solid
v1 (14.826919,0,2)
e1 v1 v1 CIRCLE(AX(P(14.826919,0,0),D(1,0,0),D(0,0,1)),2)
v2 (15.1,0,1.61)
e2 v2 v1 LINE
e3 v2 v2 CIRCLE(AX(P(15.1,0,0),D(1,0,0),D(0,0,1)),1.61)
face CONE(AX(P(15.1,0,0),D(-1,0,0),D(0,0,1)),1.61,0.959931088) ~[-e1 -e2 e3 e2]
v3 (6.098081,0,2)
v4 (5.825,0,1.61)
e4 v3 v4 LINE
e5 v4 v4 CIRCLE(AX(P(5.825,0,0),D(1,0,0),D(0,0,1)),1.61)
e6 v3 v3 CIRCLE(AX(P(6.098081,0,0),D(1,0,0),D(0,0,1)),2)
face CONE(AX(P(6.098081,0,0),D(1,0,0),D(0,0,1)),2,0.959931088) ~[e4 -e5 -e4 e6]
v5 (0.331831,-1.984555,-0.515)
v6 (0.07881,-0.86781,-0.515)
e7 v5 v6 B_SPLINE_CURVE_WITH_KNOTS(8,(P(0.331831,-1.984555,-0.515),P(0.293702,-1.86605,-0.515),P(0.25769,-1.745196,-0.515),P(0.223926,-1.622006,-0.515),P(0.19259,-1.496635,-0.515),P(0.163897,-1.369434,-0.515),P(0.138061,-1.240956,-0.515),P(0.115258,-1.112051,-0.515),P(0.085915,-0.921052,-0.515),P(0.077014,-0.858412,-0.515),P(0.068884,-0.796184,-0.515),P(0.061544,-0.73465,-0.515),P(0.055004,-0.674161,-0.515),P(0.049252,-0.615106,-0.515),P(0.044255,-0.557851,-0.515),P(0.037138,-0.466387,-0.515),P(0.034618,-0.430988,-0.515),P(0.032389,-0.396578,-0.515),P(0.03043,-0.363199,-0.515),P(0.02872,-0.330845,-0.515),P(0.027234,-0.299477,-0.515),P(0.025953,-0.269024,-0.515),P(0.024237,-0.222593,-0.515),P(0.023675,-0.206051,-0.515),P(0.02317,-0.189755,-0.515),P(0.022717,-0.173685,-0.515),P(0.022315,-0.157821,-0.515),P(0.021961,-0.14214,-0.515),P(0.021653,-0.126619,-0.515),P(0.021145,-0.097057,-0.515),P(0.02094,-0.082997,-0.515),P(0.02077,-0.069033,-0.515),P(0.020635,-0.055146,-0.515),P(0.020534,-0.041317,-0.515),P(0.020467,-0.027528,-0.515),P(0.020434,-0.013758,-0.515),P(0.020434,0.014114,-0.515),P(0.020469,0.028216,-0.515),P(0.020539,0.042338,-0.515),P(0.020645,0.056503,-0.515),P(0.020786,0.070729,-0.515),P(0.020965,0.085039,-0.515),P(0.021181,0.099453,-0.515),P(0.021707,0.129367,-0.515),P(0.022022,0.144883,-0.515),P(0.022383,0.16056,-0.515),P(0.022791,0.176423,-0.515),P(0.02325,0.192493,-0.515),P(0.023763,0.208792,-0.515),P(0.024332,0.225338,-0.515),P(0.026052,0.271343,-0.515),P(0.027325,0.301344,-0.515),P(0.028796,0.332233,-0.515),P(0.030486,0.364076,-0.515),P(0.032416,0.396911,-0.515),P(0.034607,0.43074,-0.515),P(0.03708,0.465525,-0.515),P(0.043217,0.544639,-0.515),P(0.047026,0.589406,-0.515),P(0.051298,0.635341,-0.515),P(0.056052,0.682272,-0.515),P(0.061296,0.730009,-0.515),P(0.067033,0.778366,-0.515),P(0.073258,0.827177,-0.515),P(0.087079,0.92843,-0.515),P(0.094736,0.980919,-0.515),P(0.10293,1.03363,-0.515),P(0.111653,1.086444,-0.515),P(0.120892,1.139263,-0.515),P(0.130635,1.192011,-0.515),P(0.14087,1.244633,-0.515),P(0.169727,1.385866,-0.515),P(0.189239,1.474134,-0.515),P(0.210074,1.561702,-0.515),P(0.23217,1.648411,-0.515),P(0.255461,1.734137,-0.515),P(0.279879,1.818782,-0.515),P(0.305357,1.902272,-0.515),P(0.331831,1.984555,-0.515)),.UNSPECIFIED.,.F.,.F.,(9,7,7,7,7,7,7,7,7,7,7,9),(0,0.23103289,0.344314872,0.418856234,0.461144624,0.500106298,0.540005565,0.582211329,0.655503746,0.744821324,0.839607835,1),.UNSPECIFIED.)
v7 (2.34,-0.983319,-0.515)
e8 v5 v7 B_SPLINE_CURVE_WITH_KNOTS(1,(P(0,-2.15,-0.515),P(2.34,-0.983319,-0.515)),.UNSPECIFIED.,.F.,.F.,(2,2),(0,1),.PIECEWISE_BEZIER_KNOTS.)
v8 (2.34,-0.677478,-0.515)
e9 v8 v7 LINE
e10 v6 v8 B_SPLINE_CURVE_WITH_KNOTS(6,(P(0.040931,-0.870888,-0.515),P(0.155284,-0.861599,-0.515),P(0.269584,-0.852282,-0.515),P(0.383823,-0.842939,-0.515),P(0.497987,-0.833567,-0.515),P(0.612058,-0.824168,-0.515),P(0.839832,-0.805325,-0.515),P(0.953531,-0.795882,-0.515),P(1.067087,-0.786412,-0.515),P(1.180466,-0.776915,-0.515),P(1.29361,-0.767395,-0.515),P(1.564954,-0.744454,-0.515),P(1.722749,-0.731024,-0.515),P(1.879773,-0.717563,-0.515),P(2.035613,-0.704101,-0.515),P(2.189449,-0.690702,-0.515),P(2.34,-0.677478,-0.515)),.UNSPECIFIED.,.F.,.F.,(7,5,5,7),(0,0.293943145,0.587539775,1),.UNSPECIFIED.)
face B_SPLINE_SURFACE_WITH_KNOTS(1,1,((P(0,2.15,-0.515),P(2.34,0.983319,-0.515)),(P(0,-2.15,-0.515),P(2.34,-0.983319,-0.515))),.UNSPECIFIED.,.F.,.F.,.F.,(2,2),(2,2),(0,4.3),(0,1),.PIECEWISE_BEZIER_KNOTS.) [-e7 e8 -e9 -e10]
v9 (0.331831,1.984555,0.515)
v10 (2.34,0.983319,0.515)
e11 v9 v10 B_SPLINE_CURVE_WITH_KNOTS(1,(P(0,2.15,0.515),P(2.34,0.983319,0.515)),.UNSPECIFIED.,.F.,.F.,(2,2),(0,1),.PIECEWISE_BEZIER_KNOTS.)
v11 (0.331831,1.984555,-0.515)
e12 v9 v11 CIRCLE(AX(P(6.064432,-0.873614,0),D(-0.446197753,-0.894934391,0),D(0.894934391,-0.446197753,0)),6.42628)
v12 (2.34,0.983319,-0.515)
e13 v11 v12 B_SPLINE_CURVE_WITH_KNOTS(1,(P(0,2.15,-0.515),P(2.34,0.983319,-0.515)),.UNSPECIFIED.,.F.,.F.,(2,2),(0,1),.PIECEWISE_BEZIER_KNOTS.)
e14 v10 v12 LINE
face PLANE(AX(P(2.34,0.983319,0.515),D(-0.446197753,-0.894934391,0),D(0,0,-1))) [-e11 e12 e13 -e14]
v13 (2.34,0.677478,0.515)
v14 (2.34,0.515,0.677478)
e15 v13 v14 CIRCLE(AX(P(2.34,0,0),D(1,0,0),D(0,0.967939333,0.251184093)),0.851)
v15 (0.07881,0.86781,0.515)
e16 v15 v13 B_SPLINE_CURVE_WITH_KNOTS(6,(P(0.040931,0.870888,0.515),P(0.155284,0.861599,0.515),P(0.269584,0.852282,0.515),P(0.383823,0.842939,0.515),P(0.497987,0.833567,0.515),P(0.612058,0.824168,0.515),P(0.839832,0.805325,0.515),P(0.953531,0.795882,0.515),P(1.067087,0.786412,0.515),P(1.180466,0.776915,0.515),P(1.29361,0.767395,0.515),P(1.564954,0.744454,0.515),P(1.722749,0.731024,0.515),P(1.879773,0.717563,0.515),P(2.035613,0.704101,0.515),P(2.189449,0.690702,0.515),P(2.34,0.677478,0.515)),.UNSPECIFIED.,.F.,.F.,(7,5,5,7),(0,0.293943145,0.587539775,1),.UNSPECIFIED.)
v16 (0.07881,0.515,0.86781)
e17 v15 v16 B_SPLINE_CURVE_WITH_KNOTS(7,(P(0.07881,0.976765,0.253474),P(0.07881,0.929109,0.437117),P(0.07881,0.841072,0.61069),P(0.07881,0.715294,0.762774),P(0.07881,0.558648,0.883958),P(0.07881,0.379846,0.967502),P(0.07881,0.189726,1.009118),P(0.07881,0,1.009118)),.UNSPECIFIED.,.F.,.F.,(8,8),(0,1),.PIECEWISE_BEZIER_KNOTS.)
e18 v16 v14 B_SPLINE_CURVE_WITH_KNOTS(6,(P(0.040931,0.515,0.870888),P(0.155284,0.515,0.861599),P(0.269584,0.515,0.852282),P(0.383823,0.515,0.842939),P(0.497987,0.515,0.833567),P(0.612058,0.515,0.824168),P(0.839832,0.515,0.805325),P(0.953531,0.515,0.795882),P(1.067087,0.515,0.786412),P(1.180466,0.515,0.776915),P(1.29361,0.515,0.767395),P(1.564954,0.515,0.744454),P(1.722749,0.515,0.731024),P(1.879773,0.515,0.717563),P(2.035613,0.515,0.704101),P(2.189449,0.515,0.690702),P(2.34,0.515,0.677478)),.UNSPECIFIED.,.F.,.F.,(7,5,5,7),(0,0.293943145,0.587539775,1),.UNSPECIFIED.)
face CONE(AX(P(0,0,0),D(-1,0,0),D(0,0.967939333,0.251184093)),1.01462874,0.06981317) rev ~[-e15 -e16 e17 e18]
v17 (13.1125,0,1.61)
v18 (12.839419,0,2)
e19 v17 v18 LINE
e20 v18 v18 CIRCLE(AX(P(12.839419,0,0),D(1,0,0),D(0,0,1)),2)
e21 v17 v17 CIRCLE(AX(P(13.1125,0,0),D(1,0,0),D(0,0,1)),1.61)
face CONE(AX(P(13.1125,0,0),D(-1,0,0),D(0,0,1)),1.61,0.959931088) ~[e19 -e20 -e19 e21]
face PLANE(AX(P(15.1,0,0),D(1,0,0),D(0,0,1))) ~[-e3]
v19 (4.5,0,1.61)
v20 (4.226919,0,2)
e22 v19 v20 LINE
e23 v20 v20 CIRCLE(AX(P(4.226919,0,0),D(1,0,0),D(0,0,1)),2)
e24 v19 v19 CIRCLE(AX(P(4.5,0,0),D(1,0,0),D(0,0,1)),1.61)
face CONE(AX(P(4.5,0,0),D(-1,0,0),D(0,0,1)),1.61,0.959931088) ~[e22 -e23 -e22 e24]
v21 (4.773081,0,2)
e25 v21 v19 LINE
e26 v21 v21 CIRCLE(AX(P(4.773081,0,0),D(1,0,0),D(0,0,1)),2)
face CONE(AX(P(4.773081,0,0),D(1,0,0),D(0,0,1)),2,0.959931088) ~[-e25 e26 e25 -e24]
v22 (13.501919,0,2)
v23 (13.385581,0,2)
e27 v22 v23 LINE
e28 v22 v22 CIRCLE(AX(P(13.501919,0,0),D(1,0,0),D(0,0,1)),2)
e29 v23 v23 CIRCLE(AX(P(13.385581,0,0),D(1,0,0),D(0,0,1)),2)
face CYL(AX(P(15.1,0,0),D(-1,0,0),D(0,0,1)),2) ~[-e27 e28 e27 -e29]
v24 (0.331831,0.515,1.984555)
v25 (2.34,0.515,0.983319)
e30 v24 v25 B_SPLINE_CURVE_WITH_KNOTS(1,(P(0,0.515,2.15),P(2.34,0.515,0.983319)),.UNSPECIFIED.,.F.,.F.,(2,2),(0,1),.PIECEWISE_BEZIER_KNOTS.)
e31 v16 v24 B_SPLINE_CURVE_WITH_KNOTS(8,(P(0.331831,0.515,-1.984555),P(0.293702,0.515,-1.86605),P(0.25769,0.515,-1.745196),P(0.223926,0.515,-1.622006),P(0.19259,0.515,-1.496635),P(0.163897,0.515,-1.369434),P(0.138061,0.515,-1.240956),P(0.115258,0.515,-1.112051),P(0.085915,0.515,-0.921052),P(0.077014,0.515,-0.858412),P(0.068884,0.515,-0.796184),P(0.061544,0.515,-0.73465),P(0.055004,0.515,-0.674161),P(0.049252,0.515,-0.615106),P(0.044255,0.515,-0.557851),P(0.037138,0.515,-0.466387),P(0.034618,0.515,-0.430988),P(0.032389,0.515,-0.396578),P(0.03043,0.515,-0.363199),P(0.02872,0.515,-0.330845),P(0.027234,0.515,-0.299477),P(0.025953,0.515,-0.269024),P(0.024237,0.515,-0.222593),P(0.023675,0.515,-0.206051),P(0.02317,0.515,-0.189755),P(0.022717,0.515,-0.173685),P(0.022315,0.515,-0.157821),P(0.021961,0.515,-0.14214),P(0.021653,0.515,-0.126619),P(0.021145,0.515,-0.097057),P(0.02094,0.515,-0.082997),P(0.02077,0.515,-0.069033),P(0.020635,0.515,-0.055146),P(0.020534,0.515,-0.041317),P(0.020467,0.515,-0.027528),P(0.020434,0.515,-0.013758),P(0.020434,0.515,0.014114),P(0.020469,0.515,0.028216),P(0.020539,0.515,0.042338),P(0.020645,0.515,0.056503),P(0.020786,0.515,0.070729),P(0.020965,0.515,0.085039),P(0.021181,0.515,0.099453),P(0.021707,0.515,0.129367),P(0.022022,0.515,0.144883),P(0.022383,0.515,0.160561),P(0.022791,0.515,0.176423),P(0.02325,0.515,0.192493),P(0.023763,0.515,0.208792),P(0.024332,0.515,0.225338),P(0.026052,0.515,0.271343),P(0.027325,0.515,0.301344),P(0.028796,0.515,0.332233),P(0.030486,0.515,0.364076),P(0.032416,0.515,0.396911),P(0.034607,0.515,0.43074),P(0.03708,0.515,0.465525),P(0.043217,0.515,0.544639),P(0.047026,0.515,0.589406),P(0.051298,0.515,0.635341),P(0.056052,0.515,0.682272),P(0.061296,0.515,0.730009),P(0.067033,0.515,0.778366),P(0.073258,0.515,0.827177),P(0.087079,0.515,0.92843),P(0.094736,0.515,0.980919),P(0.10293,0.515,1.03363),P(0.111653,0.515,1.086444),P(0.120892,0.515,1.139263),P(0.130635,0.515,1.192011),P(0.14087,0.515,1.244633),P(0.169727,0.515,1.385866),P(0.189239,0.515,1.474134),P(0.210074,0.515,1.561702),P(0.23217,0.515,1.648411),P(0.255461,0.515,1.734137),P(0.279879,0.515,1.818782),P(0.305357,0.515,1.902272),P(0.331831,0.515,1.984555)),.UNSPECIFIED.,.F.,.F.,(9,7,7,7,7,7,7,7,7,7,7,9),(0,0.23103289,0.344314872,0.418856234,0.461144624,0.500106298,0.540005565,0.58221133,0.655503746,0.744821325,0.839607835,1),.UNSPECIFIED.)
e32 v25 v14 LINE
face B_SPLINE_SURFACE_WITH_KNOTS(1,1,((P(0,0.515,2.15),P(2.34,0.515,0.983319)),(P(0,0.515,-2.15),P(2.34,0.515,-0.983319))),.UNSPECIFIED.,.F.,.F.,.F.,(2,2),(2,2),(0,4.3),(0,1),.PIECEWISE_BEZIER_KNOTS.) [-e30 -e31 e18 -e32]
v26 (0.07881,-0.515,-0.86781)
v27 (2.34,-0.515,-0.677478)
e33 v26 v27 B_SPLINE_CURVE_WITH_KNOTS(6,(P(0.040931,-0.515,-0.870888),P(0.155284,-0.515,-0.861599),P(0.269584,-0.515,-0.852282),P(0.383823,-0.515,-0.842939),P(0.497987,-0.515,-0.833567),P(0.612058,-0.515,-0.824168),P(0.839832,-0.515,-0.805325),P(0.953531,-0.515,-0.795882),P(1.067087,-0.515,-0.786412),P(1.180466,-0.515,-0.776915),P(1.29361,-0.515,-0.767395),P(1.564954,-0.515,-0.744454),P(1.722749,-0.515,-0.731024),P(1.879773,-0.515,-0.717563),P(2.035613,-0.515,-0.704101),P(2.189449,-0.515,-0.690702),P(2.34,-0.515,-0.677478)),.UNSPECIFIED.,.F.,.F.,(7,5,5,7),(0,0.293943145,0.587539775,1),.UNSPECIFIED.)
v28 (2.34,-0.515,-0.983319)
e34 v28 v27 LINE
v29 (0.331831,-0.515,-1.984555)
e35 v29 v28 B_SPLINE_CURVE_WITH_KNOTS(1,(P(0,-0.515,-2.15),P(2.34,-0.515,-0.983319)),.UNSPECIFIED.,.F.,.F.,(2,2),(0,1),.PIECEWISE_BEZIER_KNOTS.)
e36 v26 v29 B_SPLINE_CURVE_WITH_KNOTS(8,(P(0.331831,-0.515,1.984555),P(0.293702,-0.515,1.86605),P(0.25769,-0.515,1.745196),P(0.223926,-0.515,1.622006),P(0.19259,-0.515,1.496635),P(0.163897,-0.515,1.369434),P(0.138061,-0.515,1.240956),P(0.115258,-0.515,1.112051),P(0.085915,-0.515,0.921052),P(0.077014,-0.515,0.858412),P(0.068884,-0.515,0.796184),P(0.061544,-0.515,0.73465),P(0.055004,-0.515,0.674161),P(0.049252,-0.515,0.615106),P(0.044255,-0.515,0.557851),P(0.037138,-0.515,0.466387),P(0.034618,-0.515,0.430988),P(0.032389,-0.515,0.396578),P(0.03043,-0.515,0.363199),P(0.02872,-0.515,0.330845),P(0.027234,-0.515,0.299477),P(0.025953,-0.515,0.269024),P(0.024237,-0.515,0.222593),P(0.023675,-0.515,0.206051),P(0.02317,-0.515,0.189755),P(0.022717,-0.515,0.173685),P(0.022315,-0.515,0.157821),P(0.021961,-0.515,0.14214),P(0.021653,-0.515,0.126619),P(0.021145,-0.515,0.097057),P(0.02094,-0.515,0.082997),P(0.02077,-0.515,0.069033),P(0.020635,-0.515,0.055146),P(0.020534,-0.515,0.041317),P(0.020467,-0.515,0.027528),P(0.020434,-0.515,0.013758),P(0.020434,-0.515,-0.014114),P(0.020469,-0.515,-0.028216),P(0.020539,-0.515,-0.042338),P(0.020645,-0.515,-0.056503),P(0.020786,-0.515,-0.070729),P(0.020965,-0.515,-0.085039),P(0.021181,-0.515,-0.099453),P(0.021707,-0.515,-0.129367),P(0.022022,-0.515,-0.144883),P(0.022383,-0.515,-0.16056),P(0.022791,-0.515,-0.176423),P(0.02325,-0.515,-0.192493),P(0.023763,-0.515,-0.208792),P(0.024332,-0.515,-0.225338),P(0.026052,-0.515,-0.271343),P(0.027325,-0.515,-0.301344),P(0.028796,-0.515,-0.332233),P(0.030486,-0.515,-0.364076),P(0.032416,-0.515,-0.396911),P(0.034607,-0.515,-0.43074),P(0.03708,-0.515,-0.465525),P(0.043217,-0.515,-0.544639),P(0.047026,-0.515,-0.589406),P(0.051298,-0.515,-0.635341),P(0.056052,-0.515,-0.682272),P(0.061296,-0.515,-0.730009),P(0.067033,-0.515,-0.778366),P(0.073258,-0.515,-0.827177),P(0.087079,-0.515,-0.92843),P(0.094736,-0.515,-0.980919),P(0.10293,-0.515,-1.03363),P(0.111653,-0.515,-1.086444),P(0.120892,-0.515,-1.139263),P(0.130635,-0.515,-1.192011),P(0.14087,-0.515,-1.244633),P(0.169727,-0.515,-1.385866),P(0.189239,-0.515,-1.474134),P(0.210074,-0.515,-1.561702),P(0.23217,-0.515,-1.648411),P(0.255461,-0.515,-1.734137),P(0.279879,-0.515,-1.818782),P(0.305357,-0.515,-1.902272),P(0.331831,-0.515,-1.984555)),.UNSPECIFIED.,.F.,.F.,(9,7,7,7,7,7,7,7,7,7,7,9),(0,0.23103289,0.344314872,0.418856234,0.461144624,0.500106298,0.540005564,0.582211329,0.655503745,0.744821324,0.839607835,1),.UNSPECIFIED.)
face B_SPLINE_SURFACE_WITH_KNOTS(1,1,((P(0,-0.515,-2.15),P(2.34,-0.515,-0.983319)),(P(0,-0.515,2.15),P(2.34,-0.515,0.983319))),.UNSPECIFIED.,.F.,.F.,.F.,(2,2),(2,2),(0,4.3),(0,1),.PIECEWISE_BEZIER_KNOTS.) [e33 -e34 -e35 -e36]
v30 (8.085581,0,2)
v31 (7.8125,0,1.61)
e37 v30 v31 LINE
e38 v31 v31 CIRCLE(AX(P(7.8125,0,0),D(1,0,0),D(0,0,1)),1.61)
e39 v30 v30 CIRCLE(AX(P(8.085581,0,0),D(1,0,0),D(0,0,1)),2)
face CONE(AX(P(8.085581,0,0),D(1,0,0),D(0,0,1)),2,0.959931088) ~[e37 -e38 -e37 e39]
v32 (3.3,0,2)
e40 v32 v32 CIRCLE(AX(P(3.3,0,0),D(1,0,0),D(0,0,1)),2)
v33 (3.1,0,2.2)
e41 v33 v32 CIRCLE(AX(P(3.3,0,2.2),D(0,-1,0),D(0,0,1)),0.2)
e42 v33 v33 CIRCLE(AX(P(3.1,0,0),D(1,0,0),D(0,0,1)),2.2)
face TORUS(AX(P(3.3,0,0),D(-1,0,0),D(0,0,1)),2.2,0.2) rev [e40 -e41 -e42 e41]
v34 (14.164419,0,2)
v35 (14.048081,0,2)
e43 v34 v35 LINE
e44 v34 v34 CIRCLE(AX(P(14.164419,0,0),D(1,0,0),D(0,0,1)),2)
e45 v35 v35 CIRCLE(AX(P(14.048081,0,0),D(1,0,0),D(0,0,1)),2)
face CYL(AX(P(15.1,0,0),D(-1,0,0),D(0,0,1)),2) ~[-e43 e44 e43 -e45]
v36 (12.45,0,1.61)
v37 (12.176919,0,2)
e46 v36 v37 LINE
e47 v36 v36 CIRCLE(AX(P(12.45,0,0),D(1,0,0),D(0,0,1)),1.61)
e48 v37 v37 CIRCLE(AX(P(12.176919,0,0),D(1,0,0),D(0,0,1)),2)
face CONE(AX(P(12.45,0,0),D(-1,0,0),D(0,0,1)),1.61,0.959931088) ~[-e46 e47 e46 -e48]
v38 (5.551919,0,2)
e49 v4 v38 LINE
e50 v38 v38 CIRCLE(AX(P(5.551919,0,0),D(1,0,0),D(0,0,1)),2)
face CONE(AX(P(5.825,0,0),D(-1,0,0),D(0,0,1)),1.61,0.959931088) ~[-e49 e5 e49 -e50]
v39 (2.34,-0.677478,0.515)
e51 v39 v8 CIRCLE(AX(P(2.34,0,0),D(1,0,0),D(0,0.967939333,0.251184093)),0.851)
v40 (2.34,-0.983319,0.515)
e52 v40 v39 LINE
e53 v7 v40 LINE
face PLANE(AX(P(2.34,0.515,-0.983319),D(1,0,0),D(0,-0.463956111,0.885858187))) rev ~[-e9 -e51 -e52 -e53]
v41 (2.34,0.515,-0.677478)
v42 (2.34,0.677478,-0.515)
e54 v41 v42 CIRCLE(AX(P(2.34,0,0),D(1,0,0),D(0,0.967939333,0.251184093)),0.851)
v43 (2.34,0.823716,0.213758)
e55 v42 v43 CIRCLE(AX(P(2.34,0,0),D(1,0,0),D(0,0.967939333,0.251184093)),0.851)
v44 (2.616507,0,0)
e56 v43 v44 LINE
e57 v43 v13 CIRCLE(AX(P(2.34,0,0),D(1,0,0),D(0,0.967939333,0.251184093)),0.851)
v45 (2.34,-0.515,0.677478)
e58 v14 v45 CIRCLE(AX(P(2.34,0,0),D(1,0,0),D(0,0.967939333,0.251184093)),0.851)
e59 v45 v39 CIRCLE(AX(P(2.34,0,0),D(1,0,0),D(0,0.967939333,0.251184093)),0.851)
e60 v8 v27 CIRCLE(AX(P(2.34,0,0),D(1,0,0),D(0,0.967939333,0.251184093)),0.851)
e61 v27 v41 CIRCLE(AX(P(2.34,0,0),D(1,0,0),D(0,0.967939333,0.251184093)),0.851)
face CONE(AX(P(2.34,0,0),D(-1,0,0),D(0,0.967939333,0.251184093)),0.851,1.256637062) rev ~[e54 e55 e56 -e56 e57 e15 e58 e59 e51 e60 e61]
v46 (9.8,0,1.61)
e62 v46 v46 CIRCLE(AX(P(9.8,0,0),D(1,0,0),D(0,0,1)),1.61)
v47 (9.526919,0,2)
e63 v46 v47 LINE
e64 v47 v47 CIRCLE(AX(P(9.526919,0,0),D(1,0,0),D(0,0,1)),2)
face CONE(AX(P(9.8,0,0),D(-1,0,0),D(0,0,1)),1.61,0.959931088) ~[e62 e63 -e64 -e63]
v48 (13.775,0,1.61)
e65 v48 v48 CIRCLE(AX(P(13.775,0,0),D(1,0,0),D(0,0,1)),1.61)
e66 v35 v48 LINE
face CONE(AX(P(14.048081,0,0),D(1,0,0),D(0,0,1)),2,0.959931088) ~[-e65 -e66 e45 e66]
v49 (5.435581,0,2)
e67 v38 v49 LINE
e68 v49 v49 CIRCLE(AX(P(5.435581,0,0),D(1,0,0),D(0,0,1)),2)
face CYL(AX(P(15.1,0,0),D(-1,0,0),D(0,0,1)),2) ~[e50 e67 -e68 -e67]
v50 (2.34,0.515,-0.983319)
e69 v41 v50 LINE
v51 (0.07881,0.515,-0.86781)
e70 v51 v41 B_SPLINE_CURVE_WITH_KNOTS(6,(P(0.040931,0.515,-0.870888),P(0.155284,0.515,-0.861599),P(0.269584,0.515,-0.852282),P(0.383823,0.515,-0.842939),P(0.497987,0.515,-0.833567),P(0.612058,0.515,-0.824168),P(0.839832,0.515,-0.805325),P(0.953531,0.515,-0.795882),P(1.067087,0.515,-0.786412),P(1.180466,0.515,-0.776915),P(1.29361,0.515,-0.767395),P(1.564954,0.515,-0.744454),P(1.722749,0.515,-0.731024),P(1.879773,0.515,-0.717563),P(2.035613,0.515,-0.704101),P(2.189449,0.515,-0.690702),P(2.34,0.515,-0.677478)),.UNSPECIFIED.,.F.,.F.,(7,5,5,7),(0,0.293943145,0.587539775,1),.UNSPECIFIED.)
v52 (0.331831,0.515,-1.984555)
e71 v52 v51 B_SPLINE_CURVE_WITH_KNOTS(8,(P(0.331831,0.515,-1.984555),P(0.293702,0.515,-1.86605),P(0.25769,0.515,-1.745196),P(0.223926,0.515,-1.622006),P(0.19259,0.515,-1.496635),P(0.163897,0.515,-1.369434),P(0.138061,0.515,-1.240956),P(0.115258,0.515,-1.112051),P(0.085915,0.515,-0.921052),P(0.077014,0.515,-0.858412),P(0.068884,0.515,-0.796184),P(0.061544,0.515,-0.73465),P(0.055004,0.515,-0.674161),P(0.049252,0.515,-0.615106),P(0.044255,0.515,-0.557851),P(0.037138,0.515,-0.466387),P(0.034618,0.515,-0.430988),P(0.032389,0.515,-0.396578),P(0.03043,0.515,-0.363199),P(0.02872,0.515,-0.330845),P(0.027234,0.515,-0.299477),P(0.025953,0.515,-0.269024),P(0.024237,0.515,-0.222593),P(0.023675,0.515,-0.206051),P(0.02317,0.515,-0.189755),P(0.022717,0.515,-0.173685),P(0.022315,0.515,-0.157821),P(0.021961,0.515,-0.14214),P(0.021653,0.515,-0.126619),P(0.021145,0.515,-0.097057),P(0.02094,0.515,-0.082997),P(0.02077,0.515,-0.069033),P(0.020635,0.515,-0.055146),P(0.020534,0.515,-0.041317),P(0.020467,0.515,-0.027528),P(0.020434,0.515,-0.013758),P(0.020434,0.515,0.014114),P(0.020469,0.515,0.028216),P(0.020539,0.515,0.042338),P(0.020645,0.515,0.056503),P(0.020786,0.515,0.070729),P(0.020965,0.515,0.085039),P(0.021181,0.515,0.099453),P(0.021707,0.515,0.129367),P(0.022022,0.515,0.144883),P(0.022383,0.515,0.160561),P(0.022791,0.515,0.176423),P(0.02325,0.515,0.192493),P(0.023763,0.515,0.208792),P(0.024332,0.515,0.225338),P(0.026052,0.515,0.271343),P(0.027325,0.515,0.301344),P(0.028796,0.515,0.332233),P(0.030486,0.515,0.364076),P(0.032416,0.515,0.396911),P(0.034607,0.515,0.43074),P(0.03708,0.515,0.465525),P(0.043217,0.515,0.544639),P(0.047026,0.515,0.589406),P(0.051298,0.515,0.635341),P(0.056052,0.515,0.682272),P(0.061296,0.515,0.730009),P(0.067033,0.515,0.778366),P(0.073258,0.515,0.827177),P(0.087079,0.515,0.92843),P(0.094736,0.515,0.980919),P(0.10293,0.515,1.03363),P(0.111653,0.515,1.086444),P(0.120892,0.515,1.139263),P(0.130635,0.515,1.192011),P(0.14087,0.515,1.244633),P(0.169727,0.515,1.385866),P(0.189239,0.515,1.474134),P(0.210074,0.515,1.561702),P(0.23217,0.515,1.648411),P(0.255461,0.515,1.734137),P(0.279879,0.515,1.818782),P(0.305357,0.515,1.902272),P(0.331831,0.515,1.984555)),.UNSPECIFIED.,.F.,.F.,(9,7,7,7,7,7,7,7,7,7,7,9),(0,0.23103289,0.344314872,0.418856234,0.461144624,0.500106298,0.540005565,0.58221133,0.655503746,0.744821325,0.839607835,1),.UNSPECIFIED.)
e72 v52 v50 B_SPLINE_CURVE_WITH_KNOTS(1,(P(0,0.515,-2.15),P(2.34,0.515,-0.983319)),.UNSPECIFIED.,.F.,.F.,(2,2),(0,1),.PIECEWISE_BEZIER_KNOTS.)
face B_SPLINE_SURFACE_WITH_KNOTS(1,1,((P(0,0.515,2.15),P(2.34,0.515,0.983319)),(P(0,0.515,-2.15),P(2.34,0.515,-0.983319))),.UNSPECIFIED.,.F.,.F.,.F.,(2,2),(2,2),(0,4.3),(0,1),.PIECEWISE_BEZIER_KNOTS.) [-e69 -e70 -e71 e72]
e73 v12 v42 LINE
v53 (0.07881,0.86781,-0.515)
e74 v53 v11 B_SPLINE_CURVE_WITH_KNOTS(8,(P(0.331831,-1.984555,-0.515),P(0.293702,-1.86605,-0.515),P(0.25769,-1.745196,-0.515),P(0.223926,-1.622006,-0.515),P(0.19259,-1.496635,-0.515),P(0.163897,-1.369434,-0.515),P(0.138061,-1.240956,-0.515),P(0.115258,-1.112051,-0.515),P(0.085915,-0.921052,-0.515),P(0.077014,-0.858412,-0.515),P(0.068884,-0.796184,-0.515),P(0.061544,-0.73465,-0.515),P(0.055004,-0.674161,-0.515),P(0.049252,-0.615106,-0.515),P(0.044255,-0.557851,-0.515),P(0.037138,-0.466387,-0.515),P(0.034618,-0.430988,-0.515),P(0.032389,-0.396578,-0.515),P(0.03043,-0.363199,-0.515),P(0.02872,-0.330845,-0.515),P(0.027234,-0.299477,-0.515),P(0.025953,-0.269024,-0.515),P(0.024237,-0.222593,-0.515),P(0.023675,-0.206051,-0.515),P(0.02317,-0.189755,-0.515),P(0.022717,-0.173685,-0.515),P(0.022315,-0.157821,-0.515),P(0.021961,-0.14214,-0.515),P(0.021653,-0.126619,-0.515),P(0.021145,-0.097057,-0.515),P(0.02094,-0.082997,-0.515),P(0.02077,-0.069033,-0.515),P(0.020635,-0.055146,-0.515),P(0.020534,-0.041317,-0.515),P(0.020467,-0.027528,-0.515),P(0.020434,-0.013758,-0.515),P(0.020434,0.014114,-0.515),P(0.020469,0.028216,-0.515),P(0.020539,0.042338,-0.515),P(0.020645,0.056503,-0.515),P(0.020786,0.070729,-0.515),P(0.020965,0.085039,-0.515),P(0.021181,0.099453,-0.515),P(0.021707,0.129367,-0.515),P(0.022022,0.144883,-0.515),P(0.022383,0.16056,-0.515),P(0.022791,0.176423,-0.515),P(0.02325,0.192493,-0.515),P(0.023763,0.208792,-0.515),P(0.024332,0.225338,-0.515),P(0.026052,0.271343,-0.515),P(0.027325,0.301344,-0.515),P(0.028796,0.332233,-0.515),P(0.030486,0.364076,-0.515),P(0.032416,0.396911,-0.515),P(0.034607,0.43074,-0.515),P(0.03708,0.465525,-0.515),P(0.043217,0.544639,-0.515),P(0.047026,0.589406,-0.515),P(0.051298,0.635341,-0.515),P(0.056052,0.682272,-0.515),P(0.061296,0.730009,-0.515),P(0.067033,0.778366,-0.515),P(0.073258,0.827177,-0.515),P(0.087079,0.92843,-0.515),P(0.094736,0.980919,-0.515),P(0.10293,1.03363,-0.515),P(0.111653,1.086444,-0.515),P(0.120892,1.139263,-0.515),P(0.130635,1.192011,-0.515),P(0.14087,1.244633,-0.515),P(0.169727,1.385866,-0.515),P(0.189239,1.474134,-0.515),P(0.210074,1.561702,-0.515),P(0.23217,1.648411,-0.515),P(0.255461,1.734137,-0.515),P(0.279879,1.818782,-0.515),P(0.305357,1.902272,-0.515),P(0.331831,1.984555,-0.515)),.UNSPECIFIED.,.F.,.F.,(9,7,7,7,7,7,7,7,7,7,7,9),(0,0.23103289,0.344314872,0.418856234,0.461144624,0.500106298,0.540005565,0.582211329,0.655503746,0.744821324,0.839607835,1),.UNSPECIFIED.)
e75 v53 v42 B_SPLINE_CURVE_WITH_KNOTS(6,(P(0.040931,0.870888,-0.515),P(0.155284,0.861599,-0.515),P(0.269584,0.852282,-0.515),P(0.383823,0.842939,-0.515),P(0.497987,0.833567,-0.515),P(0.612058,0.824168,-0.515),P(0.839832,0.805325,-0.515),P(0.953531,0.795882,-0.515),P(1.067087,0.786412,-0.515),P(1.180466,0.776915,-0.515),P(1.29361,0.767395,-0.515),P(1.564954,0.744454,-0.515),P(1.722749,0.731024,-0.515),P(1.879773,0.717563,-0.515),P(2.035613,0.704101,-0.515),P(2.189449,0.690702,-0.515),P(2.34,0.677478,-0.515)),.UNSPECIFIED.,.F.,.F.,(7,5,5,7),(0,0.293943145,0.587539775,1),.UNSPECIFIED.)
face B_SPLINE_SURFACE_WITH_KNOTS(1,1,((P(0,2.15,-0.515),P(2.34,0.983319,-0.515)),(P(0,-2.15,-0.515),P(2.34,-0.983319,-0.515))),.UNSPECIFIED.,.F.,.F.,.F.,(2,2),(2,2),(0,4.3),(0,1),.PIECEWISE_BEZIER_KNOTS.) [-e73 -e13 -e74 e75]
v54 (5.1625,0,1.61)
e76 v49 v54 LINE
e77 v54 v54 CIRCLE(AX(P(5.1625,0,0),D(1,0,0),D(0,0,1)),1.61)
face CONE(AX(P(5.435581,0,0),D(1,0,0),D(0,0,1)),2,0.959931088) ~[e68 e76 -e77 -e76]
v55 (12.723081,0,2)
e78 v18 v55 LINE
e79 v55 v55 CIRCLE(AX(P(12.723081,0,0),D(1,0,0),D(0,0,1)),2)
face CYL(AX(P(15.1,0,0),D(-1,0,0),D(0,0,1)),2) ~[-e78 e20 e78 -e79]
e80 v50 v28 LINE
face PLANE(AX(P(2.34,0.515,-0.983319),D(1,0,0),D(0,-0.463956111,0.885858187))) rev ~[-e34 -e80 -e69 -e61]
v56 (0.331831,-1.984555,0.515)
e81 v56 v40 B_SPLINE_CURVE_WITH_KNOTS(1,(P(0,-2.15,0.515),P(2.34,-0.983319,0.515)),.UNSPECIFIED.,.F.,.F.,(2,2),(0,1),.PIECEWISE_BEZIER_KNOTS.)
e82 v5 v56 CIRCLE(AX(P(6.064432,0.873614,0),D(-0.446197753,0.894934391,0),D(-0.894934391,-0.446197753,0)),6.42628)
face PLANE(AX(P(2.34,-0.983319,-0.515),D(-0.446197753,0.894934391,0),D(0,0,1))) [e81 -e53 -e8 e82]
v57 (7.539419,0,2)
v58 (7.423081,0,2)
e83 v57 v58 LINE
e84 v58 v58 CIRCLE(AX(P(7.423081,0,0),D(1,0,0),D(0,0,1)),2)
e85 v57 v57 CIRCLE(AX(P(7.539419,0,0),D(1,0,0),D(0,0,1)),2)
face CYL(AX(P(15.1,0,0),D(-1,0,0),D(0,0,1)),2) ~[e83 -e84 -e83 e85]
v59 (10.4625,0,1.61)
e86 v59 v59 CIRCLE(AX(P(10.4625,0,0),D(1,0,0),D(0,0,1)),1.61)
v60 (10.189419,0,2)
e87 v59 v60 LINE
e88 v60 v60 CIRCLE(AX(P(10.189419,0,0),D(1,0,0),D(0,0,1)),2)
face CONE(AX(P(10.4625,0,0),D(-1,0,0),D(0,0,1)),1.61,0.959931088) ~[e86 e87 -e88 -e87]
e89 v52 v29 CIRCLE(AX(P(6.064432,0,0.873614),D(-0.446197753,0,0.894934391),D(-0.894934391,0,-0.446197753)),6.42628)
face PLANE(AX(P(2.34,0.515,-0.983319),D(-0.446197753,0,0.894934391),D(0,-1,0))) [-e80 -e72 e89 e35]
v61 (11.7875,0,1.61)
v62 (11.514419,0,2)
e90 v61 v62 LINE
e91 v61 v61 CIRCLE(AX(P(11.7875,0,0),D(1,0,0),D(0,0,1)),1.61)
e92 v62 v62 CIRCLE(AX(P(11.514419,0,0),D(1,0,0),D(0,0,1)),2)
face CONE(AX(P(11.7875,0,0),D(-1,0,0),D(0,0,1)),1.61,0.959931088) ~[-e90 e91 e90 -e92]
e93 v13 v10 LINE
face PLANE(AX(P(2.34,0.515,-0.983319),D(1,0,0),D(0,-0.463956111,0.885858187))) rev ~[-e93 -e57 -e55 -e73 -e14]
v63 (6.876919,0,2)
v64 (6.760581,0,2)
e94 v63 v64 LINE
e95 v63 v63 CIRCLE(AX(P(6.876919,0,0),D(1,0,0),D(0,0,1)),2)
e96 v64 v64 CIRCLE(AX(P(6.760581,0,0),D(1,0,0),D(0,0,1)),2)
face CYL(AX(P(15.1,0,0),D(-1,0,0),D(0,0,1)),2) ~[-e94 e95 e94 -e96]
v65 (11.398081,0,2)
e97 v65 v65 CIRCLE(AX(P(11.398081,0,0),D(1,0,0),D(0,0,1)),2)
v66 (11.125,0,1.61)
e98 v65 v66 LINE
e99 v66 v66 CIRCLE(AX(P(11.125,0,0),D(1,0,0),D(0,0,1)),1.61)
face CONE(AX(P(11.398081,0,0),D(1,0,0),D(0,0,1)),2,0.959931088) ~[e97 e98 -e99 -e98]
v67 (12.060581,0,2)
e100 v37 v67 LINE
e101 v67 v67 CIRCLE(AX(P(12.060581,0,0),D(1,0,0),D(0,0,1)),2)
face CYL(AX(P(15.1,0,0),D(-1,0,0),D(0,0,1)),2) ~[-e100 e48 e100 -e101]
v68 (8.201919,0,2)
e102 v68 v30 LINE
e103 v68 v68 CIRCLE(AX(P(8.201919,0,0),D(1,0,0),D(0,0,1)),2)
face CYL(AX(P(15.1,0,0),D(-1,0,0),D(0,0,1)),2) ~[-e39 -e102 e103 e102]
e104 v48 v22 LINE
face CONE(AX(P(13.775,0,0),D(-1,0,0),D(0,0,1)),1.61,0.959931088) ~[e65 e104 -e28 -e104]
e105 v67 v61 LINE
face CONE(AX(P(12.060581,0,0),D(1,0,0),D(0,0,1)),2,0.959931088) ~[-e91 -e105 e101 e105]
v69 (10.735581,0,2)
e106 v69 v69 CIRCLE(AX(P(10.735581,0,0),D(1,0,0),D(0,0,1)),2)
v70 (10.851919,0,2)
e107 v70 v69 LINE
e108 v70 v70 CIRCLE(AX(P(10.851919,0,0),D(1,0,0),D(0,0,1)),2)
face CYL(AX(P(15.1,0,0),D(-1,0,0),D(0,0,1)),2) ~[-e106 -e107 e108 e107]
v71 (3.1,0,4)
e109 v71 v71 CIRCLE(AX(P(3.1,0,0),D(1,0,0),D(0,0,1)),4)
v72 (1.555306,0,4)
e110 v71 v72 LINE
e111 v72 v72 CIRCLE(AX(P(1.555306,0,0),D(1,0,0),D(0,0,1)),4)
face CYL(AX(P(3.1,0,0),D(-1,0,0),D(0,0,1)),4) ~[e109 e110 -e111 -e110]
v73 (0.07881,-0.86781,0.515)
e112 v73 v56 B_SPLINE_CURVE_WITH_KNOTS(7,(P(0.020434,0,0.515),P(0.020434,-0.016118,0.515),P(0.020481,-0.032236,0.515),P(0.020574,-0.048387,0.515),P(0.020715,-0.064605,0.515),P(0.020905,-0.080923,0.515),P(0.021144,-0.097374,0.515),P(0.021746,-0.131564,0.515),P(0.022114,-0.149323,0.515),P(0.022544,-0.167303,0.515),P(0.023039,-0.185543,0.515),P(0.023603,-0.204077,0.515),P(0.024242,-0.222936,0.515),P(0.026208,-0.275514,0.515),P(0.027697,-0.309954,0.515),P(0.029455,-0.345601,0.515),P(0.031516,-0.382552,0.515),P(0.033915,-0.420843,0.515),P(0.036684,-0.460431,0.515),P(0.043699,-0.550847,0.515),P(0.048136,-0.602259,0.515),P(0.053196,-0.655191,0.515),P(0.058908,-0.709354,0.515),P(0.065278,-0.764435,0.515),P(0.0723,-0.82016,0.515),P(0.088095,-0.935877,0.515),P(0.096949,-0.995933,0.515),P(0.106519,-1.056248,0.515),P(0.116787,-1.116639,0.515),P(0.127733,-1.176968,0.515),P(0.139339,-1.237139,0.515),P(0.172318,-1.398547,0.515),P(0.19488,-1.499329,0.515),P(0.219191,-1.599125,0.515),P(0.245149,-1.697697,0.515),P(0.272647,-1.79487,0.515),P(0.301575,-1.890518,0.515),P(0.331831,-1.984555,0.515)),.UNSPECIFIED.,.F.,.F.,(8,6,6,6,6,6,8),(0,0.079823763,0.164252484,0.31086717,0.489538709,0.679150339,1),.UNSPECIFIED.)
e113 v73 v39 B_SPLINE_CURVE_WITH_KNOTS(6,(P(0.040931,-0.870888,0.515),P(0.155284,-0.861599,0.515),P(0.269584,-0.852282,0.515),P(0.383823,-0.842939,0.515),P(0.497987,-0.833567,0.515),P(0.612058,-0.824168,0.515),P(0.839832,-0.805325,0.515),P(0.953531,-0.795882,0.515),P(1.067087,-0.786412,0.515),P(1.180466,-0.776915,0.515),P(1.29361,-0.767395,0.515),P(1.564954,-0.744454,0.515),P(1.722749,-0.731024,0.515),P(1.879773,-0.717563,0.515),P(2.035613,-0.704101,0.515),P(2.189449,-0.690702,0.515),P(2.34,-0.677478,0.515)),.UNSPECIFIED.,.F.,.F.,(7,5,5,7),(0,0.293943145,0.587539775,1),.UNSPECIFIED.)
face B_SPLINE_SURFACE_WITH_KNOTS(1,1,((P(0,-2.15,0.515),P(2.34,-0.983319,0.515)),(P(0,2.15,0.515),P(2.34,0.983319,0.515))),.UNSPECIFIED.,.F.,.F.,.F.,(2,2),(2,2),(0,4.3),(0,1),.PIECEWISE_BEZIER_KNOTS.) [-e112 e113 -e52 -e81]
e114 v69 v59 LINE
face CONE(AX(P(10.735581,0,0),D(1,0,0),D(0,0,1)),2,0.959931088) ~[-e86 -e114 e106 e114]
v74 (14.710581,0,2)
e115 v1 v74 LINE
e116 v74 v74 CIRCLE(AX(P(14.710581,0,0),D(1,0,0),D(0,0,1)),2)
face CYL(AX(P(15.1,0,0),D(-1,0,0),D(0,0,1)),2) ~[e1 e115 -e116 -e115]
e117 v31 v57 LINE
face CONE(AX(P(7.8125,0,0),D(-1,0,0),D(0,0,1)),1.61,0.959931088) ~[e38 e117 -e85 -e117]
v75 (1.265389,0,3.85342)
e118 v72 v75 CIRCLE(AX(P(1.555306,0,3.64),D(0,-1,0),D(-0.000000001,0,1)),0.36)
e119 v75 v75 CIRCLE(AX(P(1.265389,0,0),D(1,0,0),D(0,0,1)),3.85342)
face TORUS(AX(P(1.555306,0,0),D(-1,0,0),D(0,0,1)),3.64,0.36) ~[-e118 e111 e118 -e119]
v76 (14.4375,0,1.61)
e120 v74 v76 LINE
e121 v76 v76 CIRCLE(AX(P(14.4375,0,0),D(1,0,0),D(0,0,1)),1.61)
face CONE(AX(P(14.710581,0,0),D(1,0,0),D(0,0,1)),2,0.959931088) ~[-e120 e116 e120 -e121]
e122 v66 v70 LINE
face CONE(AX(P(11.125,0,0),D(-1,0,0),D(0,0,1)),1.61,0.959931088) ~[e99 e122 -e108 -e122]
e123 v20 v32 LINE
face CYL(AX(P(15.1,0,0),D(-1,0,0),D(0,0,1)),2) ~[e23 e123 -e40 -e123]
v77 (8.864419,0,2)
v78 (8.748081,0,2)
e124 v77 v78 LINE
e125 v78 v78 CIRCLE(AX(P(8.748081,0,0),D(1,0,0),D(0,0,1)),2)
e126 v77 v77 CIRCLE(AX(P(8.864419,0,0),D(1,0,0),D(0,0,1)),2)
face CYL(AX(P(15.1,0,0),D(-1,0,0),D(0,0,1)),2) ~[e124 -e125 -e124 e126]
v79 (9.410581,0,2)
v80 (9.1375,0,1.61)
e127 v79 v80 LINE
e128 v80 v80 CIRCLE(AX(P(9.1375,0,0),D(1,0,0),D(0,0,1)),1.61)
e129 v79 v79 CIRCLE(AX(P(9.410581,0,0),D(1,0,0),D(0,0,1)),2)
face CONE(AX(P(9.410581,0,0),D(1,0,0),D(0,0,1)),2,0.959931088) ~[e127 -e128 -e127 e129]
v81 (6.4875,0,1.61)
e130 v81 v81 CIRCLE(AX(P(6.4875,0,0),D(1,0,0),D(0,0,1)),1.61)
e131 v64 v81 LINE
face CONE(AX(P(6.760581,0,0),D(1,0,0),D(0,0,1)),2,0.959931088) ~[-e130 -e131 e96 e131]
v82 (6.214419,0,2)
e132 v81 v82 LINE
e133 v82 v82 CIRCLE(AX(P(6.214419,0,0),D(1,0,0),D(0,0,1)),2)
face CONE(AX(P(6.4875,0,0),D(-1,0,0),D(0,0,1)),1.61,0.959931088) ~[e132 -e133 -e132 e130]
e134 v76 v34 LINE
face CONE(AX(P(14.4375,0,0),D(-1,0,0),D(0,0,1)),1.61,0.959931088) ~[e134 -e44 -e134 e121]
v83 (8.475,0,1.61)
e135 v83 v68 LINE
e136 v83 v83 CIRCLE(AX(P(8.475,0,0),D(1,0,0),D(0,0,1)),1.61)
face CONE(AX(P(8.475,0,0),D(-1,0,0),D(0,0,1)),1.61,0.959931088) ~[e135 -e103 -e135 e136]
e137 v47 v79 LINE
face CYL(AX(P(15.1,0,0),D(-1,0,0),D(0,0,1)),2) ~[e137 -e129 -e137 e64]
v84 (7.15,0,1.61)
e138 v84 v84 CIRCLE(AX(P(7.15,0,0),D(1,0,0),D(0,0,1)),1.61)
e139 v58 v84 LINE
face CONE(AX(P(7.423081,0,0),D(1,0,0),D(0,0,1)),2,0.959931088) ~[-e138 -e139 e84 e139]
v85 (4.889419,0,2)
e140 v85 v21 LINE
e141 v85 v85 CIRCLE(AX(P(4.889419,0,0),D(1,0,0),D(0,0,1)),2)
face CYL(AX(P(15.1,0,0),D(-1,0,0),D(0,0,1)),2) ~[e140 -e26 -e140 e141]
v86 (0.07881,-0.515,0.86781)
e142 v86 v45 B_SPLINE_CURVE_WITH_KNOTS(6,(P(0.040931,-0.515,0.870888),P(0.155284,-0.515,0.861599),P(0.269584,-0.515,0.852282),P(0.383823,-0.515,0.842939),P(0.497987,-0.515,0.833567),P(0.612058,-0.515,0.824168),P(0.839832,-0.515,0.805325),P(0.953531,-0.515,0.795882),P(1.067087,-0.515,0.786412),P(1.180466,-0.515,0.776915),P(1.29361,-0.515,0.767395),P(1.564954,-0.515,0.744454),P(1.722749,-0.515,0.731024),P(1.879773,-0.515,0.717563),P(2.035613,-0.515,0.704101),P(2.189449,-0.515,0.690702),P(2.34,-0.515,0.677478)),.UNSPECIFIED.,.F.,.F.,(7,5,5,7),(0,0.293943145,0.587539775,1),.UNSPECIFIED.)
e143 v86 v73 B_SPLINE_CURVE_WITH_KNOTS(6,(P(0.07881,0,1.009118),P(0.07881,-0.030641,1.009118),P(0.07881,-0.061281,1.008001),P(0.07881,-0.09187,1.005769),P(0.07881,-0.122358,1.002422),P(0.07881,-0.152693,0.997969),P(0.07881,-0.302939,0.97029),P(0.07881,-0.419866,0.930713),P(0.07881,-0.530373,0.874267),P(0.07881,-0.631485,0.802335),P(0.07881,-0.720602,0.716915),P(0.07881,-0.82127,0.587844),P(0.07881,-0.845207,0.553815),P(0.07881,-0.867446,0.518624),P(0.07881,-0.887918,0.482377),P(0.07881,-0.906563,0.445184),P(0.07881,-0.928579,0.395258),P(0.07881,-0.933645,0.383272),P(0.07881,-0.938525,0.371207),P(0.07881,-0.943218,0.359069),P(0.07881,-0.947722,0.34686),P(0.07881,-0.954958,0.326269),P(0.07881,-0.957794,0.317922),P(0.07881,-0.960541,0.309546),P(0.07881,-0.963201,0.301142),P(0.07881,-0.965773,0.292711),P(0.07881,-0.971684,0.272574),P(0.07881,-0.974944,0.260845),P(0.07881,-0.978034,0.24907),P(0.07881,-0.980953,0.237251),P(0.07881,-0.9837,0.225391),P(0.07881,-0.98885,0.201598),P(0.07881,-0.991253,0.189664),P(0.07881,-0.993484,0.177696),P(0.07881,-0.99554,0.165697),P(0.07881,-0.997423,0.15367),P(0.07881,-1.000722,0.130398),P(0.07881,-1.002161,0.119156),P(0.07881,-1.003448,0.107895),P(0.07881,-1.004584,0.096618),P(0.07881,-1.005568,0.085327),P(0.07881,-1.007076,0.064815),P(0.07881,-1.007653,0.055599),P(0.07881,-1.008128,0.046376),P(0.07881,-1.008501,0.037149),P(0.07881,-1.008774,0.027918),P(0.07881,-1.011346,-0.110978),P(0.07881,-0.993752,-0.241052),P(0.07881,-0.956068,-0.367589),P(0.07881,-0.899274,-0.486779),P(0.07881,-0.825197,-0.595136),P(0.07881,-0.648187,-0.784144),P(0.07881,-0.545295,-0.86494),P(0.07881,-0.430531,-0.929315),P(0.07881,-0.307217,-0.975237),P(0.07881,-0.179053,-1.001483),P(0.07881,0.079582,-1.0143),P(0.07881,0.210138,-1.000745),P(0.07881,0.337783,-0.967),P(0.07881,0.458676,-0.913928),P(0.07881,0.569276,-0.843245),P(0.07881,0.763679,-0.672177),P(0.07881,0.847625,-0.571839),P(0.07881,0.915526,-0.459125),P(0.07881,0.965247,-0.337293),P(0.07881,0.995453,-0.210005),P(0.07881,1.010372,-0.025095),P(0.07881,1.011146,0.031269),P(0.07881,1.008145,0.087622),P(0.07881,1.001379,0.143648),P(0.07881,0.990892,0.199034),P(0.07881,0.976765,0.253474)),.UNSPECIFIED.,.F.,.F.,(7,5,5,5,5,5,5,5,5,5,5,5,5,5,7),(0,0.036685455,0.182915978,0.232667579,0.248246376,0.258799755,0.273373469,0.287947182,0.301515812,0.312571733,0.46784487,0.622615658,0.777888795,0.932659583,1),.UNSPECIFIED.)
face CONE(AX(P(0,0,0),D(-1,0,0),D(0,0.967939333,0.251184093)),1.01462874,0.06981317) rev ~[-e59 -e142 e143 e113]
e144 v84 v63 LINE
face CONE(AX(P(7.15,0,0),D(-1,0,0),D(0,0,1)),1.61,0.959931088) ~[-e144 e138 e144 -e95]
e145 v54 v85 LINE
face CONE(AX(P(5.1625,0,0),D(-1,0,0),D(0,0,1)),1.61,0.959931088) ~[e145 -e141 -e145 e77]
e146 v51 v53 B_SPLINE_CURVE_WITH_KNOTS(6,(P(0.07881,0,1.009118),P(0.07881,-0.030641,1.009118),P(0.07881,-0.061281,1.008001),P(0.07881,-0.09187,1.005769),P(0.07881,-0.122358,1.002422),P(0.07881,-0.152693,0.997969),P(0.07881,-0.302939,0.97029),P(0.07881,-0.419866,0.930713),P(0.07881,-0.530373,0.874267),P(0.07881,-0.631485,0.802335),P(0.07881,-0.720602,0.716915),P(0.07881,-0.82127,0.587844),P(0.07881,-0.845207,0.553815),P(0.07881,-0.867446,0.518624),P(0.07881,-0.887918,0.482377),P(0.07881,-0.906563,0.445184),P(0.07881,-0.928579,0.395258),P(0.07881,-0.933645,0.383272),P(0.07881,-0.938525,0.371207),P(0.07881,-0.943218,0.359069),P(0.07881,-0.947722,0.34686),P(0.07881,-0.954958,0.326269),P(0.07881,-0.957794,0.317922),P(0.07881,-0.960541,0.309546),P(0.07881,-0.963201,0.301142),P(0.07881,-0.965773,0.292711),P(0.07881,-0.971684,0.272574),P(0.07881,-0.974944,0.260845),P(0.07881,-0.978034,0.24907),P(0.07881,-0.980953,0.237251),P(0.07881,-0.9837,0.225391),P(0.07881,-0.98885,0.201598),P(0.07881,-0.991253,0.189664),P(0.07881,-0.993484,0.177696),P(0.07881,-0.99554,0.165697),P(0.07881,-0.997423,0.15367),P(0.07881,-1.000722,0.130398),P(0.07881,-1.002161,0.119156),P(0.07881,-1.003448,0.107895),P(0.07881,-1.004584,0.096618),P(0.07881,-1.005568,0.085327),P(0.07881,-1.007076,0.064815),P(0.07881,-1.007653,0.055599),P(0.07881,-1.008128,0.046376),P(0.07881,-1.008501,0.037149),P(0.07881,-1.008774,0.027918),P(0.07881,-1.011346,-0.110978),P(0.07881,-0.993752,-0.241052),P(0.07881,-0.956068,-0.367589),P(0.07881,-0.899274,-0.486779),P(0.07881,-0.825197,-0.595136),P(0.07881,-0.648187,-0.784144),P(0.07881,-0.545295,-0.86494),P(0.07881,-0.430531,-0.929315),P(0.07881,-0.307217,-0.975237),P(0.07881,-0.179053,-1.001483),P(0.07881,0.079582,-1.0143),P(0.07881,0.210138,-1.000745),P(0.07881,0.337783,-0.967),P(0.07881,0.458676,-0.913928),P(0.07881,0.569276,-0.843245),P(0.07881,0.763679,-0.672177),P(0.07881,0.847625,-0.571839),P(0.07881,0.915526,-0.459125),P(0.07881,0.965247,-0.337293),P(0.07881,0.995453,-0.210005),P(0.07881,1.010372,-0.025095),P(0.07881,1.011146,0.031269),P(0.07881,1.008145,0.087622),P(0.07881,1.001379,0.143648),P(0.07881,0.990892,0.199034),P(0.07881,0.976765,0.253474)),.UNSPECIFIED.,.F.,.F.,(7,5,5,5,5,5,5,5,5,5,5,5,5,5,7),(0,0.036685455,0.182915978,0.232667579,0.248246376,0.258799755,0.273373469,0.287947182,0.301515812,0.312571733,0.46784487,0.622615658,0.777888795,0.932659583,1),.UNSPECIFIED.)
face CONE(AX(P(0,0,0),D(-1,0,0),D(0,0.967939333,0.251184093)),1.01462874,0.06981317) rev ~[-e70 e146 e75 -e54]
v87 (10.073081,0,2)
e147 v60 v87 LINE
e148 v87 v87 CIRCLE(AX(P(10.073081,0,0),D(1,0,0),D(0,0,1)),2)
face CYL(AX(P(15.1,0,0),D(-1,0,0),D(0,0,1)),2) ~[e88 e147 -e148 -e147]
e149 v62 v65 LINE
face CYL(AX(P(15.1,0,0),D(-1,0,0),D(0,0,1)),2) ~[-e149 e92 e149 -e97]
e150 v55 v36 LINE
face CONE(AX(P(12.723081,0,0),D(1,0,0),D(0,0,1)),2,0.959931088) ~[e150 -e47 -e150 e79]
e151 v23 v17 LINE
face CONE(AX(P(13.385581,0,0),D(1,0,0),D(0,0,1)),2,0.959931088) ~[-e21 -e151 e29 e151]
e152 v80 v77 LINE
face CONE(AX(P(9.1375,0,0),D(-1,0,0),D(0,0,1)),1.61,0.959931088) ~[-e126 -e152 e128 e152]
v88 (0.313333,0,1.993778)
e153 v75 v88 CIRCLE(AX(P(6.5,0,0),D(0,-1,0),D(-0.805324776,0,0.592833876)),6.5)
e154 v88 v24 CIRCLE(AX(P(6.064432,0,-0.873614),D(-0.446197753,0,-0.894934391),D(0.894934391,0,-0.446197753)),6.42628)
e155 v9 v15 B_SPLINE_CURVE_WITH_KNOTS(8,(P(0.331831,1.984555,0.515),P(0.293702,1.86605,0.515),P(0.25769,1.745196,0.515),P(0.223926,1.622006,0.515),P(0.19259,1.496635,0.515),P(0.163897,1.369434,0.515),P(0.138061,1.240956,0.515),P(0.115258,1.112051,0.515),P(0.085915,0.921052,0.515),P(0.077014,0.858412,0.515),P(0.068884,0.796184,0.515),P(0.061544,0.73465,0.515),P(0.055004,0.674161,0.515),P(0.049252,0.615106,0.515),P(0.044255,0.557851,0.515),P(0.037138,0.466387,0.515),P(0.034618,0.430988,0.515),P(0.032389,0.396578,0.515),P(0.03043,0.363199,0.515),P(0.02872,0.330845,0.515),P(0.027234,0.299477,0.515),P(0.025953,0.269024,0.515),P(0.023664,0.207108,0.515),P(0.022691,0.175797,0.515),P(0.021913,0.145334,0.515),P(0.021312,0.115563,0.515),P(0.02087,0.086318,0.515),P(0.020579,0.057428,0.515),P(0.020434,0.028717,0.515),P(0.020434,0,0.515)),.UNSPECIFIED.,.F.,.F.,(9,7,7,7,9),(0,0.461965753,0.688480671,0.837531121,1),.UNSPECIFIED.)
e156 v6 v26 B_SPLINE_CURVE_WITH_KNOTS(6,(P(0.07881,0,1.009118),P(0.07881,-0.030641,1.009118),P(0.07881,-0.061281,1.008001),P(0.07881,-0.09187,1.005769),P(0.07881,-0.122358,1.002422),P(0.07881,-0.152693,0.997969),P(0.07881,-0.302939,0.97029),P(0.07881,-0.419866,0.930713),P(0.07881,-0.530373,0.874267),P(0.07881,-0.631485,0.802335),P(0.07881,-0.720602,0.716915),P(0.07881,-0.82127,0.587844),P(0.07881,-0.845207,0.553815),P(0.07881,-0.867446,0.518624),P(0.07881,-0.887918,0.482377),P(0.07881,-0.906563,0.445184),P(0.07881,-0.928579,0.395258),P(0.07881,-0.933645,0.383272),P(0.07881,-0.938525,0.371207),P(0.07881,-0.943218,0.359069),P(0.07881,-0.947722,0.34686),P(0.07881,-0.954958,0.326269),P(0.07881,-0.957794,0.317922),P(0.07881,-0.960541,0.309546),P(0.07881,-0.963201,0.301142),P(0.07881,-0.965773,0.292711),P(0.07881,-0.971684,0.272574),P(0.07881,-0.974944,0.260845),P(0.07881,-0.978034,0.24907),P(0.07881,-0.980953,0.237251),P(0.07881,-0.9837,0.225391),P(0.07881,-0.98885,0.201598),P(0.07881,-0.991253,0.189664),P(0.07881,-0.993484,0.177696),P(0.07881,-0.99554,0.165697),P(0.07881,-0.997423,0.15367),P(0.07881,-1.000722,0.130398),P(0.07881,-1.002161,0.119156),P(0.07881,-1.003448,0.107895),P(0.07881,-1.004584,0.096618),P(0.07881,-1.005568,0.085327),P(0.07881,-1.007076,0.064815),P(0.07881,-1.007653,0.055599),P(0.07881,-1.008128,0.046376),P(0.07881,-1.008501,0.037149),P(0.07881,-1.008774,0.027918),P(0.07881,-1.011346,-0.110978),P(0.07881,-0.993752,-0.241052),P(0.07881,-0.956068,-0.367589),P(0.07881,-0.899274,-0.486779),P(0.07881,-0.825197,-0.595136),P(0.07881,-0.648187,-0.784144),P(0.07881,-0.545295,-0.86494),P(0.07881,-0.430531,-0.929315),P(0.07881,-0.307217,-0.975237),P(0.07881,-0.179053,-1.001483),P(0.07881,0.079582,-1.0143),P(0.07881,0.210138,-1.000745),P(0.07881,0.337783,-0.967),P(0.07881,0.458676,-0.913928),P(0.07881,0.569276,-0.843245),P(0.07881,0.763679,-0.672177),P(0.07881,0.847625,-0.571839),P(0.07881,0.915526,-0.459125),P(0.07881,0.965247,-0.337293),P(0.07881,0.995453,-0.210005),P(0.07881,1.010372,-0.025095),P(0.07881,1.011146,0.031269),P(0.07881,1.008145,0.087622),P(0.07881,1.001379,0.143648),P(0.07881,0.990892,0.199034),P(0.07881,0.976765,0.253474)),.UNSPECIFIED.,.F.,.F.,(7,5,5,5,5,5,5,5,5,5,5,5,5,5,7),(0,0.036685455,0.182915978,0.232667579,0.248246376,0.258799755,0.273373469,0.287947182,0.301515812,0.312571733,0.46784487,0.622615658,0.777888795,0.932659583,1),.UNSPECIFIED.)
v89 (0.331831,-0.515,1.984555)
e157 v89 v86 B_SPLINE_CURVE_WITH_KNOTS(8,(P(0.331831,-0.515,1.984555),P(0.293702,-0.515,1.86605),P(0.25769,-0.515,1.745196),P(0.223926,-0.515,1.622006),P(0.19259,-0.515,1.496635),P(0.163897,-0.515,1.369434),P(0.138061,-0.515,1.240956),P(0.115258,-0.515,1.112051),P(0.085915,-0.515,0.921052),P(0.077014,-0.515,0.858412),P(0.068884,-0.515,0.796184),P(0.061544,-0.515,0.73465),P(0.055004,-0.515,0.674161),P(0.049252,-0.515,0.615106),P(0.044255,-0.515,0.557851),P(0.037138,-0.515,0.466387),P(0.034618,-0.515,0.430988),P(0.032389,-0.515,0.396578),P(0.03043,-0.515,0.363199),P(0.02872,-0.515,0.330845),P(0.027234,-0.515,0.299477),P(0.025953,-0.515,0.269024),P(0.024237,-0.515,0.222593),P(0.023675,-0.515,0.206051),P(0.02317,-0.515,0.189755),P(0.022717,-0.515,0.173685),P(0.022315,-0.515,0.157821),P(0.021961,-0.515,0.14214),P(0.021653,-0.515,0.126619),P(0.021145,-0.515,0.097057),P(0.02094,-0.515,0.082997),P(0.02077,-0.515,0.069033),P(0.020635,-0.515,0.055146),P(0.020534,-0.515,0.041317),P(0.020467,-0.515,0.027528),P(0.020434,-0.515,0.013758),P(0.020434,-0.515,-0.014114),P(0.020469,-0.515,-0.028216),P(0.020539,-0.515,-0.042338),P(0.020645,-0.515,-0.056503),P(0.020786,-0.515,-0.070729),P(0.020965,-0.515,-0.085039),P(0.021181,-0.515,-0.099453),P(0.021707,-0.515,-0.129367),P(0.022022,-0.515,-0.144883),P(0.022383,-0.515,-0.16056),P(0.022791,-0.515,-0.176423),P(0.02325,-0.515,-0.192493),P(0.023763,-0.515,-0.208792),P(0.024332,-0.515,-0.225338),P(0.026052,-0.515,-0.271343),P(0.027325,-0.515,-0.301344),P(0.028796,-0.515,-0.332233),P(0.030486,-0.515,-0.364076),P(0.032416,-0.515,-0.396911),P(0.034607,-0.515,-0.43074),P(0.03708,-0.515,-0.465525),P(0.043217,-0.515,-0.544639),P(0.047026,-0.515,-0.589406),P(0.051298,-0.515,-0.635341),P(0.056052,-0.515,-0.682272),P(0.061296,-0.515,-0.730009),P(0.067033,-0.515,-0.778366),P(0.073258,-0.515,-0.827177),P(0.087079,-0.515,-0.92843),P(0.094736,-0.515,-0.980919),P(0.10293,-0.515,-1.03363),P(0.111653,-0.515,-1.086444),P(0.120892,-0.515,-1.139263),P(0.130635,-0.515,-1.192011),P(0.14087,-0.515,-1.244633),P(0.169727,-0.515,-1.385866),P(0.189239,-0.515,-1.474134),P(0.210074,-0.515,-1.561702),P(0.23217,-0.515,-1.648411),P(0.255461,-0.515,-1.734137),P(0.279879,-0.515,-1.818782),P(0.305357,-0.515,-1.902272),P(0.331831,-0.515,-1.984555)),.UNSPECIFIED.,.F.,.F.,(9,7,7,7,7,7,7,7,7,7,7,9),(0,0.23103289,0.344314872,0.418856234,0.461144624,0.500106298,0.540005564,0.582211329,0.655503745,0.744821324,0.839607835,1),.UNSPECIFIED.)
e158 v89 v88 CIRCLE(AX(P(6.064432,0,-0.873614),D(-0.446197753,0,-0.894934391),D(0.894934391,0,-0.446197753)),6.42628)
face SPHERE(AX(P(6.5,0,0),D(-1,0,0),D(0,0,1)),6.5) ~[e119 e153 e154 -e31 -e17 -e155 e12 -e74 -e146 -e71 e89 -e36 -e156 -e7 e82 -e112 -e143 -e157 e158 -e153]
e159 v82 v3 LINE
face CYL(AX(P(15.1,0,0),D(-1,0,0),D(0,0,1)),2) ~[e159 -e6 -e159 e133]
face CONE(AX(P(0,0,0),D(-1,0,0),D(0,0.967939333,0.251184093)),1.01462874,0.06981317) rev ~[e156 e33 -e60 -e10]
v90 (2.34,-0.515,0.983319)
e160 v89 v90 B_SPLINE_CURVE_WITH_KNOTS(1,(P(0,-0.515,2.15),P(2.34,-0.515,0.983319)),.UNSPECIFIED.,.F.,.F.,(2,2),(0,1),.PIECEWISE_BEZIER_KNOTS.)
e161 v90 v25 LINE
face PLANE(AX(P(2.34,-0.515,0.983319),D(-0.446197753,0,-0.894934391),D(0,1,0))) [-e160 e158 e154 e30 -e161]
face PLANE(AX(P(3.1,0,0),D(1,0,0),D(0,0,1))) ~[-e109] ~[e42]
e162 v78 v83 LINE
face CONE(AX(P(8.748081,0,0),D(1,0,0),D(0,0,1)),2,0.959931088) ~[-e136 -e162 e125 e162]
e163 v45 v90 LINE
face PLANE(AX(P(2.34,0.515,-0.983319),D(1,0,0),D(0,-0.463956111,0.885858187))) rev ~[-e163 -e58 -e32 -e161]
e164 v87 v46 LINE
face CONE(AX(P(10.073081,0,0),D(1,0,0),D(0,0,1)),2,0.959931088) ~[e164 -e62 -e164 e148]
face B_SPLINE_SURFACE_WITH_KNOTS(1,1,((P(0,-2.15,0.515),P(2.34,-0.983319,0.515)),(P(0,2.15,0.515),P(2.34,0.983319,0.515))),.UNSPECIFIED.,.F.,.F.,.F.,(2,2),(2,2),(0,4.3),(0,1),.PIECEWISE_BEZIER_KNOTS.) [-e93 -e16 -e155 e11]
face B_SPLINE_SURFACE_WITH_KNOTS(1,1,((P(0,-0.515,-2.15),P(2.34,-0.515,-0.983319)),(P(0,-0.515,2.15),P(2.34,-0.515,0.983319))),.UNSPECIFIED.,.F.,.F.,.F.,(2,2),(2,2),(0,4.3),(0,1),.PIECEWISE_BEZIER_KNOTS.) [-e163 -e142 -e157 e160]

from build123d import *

# Parameters (mm, degrees)
FILLET1_R       = 0.2
RECPAT_COUNT    = 2
RECPAT_ANGLE    = 90
THDSCHPAT_COUNT = 17
THDSCHPAT_PITCH = 0.6625


with BuildPart() as part:
    # BodySke → Base-Revolve (revolve)
    with BuildSketch(Plane.XY, mode=Mode.PRIVATE) as base_revolve_sk:
        with BuildLine():
            Line((3.1, 2), (3.1, 4))
            Line((3.1, 4), (1.555305874, 4))
            ThreePointArc((1.555305874, 4), (1.392873227, 3.961271902), (1.265388955, 3.853420195))
            ThreePointArc((1.265388955, 3.853420195), (0.324444487, 2.027933456), (0, 0))
            Line((0, 0), (15.1, 0))
            Line((15.1, 0), (15.1, 2))
            Line((15.1, 2), (3.1, 2))
        make_face()
    revolve(base_revolve_sk.sketch.rotate(Axis((1.555305874, 0, 0), (1, 0, 0)), 90), axis=Axis((1.555305874, 0, 0), (1, 0, 0)))

    # Fillet1
    fillet1_edges = [part.edges().sort_by_distance(p)[0] for p in [
        (3.1, 0, -2),
    ]]
    fillet(fillet1_edges, radius=FILLET1_R)

    # Sketch3 → Recess section 0
    with BuildSketch(Plane(origin=(0, 0, 0), x_dir=(0, 0, -1), z_dir=(1, 0, 0))):
        with BuildLine():
            Line((0.515, -2.15), (-0.515, -2.15))
            Line((-0.515, -2.15), (-0.515, 2.15))
            Line((-0.515, 2.15), (0.515, 2.15))
            Line((0.515, 2.15), (0.515, -2.15))
        make_face()
    # Sketch4 → Recess section 1
    with BuildSketch(Plane(origin=(2.34, 0, 0), x_dir=(0, 0, -1), z_dir=(1, 0, 0))):
        with BuildLine():
            Line((0.515, -0.983319232), (-0.515, -0.983319232))
            Line((-0.515, -0.983319232), (-0.515, 0.983319232))
            Line((-0.515, 0.983319232), (0.515, 0.983319232))
            Line((0.515, 0.983319232), (0.515, -0.983319232))
        make_face()
    recess = loft(mode=Mode.SUBTRACT)

    # RecPat: Recess ×2 about axis
    recpat_axis = Axis((0, 0, 0), (1, 0, 0))
    for i in range(1, RECPAT_COUNT):
        add(recess.rotate(recpat_axis, i * RECPAT_ANGLE / (RECPAT_COUNT - 1)), mode=Mode.SUBTRACT)

    # RecCorSke → RecessCore (revolve, cut)
    with BuildSketch(Plane.XY, mode=Mode.PRIVATE) as recesscore_sk:
        Polygon((0, 0), (0, 1.01462874), (2.34, 0.851), (2.616506661, 0), align=None)
    revolve(recesscore_sk.sketch.rotate(Axis((-3.175, 0, 0), (1, 0, 0)), 14.547591759), axis=Axis((-3.175, 0, 0), (1, 0, 0)), mode=Mode.SUBTRACT)

    # ThdSchSke → ThreadSchematic (revolve, cut)
    with BuildSketch(Plane.XY, mode=Mode.PRIVATE) as threadschematic_sk:
        Polygon((4.5, -1.61), (4.22691906, -2), (4.22691906, -2.5), (4.77308094, -2.5), (4.77308094, -2), align=None)
    threadschematic = revolve(threadschematic_sk.sketch.rotate(Axis((-3.175, 0, 0), (1, 0, 0)), 270), axis=Axis((-3.175, 0, 0), (1, 0, 0)), mode=Mode.SUBTRACT)

    # ThdSchPat: ThreadSchematic ×17
    with Locations(*[(i * THDSCHPAT_PITCH, 0, 0) for i in range(1, THDSCHPAT_COUNT)]):
        add(threadschematic, mode=Mode.SUBTRACT)


solid = part.part
